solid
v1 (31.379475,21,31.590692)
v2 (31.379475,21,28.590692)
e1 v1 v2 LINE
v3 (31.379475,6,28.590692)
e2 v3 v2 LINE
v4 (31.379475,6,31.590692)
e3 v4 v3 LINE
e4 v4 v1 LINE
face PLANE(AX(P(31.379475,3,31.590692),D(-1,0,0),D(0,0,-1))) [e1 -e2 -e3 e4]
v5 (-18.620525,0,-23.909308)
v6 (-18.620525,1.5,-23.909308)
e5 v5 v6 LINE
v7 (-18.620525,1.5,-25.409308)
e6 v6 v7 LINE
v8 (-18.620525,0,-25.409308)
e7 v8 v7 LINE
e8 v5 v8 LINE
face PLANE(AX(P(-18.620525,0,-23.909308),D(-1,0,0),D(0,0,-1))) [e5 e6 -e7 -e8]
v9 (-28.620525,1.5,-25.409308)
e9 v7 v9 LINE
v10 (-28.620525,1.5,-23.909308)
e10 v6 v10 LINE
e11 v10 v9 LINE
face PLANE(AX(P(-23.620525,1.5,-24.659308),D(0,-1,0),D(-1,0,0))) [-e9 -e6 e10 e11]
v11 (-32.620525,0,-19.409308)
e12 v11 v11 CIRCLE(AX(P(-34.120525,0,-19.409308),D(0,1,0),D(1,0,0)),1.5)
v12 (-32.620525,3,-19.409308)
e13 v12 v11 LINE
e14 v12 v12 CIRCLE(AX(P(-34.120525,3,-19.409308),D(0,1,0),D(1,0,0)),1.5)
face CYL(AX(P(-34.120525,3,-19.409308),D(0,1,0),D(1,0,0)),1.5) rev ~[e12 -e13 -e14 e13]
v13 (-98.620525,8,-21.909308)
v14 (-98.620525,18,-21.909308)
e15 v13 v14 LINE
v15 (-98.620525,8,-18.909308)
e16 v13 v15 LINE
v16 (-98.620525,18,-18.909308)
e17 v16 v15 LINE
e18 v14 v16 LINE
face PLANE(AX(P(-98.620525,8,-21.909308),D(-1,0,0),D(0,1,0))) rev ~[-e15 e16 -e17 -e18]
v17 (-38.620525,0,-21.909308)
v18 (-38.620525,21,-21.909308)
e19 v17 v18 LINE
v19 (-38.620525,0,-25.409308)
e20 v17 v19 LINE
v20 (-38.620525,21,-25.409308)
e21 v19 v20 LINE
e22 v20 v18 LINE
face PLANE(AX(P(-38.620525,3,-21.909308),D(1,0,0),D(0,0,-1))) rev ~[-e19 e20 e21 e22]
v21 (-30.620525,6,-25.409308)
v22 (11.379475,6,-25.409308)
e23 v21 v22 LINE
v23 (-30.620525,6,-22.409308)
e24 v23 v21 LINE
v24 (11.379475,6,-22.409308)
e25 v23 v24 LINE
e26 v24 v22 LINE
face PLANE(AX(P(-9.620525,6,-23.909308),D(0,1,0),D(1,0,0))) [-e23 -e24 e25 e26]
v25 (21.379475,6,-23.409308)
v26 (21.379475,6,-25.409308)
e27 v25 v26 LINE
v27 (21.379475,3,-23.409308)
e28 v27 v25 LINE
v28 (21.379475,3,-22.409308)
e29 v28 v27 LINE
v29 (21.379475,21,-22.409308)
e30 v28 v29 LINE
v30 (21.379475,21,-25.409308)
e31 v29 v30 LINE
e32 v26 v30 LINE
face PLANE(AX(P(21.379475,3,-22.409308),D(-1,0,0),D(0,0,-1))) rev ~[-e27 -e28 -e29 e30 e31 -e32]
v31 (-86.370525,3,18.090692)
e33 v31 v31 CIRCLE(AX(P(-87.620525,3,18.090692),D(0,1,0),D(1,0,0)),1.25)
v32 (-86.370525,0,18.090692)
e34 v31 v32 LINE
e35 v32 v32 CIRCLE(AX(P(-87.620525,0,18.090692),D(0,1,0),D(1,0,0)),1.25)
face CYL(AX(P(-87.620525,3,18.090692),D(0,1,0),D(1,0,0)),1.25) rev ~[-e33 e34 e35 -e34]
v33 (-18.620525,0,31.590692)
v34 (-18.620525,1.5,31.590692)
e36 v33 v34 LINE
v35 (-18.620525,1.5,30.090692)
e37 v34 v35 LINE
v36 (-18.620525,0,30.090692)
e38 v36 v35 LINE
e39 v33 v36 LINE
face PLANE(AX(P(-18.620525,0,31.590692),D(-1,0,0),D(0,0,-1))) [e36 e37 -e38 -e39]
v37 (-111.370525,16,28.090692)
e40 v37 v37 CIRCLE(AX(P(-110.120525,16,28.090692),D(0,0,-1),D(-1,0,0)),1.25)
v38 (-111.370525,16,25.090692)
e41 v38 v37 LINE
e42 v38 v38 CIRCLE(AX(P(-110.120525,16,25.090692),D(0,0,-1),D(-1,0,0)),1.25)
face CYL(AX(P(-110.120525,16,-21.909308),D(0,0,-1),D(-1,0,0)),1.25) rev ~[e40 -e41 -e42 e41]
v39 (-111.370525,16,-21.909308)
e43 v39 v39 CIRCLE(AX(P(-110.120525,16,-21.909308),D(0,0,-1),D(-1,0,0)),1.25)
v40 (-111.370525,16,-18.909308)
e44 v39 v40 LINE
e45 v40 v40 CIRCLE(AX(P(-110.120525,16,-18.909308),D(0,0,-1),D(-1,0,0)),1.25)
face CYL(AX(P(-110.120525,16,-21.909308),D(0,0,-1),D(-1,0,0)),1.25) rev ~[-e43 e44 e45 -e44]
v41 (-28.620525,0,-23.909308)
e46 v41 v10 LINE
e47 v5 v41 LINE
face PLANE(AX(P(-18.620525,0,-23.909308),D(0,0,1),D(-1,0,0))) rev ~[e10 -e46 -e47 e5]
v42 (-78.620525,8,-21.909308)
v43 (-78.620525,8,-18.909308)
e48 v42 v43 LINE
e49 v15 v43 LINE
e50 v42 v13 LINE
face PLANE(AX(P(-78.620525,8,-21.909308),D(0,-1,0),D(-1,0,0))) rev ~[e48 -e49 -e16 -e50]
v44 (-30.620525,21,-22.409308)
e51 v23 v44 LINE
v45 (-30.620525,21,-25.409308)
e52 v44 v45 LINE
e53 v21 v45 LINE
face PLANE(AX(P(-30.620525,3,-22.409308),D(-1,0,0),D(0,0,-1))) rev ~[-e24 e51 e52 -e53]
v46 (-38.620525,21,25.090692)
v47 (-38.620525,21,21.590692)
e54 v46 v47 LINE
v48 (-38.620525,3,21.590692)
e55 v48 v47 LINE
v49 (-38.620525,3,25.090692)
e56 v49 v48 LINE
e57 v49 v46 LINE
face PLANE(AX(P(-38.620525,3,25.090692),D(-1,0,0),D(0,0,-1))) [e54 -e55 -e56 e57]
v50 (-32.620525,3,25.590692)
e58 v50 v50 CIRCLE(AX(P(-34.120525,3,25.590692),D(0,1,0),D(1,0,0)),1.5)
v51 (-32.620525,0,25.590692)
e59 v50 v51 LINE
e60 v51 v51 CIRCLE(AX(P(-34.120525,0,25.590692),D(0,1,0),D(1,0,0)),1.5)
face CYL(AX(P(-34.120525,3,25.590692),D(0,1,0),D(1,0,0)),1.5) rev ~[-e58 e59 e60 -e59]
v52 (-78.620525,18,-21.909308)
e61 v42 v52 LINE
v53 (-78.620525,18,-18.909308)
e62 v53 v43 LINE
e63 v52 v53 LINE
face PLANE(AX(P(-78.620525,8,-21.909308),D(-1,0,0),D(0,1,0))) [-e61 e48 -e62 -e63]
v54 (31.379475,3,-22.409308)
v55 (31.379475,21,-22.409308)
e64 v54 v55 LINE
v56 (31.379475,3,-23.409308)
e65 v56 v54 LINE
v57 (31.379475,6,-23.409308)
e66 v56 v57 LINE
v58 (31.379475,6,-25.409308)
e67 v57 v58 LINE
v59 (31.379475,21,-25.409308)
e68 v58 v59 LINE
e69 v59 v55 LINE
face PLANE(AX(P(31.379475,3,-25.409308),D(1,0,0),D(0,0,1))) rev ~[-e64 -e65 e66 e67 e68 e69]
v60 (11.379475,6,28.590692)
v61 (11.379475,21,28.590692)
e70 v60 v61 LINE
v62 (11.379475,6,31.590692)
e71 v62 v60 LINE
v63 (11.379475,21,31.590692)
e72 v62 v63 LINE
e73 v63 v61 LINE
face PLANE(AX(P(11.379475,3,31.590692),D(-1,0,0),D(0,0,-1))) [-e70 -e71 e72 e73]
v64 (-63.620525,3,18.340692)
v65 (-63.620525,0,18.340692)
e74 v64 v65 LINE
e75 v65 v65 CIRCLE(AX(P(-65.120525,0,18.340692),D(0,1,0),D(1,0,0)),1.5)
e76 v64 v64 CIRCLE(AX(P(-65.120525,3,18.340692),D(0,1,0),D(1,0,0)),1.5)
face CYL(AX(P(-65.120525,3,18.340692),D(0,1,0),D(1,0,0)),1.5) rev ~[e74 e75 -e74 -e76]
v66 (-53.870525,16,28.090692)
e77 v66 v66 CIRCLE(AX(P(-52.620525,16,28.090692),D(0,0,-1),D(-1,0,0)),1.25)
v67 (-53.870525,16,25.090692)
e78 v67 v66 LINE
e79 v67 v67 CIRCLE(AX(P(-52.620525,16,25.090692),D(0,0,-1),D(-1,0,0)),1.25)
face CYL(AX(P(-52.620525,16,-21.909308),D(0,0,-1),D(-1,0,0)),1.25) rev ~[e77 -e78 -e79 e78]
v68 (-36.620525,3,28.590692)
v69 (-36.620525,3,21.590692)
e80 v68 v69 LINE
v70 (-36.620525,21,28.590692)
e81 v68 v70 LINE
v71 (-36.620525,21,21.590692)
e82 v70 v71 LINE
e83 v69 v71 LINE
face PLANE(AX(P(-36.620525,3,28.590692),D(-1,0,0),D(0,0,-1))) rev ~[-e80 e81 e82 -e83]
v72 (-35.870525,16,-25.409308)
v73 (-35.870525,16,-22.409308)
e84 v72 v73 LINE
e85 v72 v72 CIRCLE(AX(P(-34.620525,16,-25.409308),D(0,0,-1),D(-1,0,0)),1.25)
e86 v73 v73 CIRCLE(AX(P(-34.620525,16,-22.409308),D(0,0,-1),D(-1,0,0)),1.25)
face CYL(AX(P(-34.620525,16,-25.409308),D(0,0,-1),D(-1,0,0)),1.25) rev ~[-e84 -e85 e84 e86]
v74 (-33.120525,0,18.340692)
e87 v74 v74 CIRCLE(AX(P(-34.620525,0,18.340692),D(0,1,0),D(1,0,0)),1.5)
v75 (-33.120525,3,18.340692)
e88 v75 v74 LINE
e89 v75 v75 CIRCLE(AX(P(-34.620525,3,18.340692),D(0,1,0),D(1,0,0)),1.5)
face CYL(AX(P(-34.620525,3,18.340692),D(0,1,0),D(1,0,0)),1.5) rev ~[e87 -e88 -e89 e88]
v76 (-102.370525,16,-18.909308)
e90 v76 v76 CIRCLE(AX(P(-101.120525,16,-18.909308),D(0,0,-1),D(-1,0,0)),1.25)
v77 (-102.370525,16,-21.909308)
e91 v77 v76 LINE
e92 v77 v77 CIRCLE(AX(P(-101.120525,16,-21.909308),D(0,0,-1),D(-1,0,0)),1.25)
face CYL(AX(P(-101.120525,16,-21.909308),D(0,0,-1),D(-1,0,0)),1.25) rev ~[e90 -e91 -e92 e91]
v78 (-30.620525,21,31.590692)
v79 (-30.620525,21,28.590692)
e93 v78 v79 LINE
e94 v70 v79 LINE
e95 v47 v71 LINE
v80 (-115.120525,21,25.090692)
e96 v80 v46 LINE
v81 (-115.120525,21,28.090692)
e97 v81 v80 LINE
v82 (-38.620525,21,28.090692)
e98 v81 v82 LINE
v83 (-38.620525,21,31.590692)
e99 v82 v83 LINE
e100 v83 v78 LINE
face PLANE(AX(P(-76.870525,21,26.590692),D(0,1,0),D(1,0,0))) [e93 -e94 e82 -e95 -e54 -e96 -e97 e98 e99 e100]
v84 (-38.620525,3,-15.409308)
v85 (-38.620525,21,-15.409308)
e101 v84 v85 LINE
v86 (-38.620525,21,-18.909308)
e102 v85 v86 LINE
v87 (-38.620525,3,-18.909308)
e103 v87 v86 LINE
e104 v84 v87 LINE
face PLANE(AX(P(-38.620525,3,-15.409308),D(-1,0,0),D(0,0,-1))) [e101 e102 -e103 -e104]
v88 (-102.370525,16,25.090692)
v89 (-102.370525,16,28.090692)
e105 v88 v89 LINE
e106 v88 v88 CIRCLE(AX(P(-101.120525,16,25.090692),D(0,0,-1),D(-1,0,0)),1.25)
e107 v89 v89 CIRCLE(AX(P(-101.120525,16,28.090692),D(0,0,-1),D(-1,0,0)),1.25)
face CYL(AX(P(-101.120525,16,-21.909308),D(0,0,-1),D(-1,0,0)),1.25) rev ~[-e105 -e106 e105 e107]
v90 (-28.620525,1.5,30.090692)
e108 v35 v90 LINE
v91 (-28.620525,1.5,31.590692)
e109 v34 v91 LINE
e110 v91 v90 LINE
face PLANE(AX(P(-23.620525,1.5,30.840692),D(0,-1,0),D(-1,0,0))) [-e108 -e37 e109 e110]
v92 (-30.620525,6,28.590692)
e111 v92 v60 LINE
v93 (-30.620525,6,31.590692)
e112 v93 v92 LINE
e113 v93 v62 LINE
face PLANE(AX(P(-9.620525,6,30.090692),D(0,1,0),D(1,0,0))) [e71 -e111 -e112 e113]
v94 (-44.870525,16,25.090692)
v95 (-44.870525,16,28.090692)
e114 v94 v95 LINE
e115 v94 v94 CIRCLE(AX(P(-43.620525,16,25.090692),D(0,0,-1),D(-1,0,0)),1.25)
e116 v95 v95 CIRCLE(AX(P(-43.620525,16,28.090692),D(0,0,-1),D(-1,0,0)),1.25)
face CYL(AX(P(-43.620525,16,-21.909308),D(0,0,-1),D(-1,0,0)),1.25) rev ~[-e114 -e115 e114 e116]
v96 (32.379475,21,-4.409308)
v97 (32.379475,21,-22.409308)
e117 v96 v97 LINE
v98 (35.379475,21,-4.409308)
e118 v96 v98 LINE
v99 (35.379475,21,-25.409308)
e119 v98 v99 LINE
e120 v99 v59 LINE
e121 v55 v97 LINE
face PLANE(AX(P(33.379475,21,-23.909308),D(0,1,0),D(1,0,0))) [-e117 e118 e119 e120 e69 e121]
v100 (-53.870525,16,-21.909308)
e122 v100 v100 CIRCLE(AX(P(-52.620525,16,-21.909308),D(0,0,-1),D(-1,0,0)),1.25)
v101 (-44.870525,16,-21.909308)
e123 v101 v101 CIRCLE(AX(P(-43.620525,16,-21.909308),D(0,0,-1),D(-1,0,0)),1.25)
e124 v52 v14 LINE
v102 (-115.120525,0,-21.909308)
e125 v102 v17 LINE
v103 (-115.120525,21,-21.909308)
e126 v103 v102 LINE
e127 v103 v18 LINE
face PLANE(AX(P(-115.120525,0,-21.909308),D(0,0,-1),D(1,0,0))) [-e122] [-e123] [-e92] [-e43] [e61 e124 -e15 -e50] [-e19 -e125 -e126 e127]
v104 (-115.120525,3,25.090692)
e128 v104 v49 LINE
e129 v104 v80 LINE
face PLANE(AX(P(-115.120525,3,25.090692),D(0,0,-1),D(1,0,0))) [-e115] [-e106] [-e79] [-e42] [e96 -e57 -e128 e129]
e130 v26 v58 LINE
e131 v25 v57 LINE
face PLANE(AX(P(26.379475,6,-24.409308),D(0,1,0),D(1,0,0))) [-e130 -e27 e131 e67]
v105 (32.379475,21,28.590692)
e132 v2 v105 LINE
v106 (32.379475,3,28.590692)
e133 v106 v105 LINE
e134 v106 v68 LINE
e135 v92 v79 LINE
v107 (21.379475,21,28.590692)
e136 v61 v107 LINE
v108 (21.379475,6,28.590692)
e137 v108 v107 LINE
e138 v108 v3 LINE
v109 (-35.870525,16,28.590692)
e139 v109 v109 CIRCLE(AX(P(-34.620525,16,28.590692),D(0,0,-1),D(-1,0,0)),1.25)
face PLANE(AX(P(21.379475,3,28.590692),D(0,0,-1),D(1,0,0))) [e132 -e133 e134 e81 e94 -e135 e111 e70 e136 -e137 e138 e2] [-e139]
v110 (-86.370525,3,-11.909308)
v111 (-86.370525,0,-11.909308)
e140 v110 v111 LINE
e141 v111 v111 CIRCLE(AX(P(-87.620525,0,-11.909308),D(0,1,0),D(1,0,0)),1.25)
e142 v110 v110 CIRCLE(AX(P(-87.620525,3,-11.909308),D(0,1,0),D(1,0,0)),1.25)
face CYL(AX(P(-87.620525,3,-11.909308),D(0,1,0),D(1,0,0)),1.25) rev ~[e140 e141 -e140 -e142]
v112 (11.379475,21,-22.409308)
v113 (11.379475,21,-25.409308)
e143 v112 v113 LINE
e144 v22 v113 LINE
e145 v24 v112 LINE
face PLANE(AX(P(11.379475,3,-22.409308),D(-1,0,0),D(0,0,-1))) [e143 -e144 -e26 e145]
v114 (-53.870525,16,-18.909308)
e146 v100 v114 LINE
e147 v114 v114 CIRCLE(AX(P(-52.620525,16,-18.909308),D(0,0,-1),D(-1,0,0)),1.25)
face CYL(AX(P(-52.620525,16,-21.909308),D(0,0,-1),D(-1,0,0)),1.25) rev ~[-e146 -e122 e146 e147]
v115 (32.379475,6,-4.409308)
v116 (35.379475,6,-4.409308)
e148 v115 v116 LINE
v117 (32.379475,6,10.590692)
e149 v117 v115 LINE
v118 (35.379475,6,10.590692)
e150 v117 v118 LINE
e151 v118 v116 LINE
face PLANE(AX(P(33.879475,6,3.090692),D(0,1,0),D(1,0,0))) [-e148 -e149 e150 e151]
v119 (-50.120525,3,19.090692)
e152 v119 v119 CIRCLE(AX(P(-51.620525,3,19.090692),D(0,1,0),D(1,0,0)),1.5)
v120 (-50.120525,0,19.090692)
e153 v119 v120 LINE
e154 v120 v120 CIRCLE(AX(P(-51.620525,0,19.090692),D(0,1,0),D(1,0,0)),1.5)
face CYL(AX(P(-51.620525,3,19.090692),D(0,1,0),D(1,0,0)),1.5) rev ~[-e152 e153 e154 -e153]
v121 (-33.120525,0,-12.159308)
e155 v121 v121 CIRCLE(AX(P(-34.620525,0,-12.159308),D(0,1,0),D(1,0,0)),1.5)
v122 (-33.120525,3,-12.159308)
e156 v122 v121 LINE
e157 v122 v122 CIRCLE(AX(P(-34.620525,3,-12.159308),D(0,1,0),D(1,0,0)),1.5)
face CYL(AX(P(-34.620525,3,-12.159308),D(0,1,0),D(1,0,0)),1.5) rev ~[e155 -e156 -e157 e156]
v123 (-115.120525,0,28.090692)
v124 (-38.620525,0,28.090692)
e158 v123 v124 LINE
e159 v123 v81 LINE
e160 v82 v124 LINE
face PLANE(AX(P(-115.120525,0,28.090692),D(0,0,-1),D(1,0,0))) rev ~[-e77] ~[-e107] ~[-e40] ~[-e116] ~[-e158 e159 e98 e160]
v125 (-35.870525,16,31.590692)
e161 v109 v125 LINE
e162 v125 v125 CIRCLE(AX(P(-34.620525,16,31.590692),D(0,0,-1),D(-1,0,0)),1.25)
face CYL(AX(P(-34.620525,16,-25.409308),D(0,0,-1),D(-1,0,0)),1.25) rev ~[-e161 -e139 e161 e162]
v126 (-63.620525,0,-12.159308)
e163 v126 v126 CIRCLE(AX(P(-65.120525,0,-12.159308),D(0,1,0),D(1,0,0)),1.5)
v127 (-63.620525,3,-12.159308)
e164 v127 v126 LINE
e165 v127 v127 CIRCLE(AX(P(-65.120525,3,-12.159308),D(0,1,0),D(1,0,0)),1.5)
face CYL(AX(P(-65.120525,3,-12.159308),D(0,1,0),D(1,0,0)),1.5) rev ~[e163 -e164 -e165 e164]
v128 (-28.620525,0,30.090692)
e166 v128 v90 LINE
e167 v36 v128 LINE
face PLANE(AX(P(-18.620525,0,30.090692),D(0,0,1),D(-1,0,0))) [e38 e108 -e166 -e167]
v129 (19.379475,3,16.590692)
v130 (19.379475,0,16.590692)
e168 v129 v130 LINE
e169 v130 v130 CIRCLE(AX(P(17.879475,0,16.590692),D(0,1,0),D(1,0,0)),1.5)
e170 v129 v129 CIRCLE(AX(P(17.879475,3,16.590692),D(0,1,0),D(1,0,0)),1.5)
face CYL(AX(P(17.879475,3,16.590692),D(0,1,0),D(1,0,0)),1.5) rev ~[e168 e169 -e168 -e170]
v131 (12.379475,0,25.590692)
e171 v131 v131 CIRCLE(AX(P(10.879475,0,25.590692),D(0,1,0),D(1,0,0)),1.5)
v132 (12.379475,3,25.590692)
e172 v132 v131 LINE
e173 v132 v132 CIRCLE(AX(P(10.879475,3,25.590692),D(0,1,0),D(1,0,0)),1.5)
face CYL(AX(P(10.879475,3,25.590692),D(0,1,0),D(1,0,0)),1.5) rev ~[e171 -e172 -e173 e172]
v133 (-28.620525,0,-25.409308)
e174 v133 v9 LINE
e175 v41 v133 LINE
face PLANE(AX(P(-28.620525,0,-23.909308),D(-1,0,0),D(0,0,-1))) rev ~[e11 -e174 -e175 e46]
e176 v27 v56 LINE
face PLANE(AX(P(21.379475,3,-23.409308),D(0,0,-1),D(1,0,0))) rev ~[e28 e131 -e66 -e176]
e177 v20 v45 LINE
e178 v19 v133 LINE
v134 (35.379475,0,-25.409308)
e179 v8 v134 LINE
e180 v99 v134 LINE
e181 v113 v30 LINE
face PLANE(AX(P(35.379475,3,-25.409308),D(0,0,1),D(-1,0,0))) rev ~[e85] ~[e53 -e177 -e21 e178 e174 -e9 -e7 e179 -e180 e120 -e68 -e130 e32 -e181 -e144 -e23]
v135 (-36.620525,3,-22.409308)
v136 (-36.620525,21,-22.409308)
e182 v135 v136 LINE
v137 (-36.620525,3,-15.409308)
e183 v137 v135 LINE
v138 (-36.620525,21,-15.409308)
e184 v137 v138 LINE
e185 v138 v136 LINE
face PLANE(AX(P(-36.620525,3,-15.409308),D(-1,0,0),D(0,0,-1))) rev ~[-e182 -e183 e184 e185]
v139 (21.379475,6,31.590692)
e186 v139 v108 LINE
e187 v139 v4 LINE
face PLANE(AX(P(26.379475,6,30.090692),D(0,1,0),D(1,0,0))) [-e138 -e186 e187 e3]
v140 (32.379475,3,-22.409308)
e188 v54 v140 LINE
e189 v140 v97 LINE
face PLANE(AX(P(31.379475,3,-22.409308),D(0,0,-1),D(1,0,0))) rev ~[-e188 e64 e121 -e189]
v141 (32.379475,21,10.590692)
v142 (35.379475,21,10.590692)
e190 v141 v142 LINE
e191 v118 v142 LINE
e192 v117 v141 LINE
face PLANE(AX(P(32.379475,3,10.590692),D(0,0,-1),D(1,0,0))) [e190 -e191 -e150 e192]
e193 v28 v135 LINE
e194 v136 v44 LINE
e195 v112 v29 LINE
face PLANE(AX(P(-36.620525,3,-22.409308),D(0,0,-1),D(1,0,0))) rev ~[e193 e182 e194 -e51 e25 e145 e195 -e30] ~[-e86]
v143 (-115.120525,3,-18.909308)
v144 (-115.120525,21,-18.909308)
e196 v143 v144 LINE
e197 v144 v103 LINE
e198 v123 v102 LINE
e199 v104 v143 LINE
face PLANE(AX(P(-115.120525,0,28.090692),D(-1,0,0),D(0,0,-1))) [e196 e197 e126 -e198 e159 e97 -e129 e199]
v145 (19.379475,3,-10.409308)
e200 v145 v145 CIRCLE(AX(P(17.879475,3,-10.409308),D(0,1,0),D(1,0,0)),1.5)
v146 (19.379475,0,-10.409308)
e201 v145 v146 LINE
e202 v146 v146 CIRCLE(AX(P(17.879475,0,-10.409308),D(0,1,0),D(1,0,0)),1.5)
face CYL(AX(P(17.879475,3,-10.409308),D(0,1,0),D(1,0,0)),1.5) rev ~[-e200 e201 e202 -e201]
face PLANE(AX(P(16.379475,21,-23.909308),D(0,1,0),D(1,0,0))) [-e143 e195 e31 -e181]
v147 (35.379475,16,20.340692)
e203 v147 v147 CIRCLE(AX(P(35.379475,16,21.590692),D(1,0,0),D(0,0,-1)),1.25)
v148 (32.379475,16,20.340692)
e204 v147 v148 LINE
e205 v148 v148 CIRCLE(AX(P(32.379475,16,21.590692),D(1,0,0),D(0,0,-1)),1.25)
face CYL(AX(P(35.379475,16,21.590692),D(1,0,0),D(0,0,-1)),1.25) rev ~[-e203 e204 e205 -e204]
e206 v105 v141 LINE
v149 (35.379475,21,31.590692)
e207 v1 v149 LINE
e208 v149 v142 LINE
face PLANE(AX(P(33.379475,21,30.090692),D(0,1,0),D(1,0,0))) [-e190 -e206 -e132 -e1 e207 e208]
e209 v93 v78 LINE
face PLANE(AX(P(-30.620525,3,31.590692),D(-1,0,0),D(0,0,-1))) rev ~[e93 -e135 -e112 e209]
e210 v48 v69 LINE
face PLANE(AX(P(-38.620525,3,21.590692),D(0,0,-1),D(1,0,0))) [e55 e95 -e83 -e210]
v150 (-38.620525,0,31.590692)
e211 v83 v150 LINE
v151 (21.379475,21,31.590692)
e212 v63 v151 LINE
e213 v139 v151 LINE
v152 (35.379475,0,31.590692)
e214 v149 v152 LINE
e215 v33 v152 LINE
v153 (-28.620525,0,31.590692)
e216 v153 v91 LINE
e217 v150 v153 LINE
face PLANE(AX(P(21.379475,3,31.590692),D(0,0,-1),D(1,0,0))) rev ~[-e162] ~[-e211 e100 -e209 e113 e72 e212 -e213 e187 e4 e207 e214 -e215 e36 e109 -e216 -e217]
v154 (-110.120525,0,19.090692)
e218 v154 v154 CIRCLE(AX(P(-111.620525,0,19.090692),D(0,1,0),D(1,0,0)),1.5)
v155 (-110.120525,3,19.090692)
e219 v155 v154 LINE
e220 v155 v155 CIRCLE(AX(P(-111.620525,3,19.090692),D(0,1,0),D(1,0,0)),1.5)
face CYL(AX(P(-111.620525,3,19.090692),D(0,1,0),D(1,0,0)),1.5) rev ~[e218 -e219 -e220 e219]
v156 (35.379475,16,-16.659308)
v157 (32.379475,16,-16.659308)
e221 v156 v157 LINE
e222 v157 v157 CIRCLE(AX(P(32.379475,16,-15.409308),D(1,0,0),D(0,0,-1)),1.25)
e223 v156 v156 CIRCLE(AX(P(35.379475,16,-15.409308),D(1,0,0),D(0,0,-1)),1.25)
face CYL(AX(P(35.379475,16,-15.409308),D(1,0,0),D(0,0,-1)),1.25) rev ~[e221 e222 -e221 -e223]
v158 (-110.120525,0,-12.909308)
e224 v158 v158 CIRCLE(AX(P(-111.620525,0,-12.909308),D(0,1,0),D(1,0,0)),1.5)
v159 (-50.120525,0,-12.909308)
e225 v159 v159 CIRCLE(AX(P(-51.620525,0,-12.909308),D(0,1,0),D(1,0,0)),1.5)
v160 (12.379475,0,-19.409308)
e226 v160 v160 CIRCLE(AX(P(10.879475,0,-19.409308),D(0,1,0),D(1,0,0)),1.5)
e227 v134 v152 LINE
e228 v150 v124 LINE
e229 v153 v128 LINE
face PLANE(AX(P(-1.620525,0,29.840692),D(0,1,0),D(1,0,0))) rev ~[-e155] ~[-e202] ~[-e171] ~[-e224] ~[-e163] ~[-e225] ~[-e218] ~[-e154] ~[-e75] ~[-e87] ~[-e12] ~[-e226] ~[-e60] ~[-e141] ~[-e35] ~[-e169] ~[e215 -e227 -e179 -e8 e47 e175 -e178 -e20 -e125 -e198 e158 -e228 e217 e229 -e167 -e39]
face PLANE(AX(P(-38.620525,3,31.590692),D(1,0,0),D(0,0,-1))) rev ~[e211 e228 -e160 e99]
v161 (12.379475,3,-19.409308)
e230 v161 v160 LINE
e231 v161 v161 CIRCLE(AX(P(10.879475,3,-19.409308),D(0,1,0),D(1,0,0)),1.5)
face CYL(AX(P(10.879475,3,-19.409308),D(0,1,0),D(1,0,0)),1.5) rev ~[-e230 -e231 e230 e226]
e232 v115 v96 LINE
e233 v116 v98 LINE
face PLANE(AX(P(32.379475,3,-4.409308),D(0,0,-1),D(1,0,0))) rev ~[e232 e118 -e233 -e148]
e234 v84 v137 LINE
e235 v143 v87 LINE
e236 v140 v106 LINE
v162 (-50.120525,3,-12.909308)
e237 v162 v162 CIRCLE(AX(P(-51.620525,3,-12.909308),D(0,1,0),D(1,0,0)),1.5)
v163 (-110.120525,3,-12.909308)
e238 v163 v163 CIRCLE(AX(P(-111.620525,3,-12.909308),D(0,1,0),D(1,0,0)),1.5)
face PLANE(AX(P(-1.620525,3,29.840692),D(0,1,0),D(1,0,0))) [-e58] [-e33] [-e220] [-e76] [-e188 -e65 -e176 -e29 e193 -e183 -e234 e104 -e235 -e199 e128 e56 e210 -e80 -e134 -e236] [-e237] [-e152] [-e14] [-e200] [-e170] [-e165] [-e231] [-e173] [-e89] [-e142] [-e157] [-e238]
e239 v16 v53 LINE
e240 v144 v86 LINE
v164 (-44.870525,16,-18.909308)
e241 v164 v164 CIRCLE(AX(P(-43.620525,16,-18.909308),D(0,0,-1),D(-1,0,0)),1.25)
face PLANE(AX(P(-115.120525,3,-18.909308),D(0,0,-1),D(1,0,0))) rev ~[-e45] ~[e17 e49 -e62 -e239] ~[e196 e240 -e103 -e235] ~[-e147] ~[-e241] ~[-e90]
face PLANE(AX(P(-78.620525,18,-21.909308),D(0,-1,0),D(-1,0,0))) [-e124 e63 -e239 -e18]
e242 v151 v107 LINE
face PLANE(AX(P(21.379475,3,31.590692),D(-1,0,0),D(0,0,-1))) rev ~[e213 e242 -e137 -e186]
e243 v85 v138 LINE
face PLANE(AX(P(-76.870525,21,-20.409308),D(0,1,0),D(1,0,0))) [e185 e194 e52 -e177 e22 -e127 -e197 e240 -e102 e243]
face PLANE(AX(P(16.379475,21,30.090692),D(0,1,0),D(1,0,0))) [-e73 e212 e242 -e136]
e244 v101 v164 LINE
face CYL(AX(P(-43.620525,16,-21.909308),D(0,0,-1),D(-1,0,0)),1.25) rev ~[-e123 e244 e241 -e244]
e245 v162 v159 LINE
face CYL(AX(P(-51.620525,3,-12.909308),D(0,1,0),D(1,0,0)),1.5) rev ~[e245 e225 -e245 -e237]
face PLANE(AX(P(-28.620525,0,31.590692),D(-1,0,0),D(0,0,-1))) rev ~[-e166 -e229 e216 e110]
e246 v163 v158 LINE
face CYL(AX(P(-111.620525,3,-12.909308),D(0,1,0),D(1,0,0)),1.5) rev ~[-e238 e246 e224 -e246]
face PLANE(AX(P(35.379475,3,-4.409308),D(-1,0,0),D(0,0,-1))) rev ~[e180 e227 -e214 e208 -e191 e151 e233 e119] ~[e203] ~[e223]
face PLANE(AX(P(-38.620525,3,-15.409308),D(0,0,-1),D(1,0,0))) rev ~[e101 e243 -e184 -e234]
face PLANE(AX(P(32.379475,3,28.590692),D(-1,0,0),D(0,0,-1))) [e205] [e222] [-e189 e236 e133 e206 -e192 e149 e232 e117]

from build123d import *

# Parameters (mm, degrees)
SKETCH1_W           = 150.5
SKETCH1_H           = 50
BOSS_EXTRUDE1_DEPTH = 3
SKETCH2_R           = 1.5
SKETCH2_R_2         = 1.25
CUT_EXTRUDE1_DEPTH  = 4
SKETCH4_W           = 74
SKETCH4_H           = 3.5
BOSS_EXTRUDE2_DEPTH = 3
SKETCH5_R           = 1.5
CUT_EXTRUDE3_DEPTH  = 4
SKETCH6_W           = 76.5
SKETCH6_H           = 3
SKETCH6_W_2         = 8
SKETCH6_W_3         = 2
SKETCH6_H_2         = 7
SKETCH6_W_4         = 4
SKETCH6_W_5         = 3
SKETCH6_H_3         = 18
SKETCH6_W_6         = 10
BOSS_EXTRUDE3_DEPTH = 18
SKETCH8_W           = 10
SKETCH8_H           = 3
SKETCH8_H_2         = 2
SKETCH8_W_2         = 42
SKETCH8_W_3         = 3
SKETCH8_H_3         = 15
BOSS_EXTRUDE4_DEPTH = 3
CUT_EXTRUDE4_REACH  = 55.5
SKETCH9_W           = 20
SKETCH9_H           = 10
CUT_EXTRUDE5_REACH  = 152.5
SKETCH10_R          = 1.25
SKETCH11_R          = 1.25
CUT_EXTRUDE6_DEPTH  = 54.5
SKETCH12_R          = 1.25
CUT_EXTRUDE7_DEPTH  = 58
SKETCH13_W          = 10
SKETCH13_H          = 1.5
CUT_EXTRUDE8_DEPTH  = 1.5


with BuildPart() as part:
    # Sketch1 → Boss-Extrude1 (new body)
    with BuildSketch(Plane(origin=(0, 0, 0), x_dir=(1, 0, 0), z_dir=(0, 1, 0))):
        with Locations((-39.87052506, -3.090692124)):
            Rectangle(SKETCH1_W, SKETCH1_H)
    extrude(amount=BOSS_EXTRUDE1_DEPTH)

    # Sketch2 → Cut-Extrude1 (cut, through all)
    with BuildSketch(Plane(origin=(0, 3, 0), x_dir=(1, 0, 0), z_dir=(0, 1, 0))):
        with Locations((-65.12052506, 12.159307876)):
            Circle(SKETCH2_R)
        with Locations((-65.12052506, -18.340692124)):
            Circle(SKETCH2_R)
        with Locations((-34.62052506, -18.340692124)):
            Circle(SKETCH2_R)
        with Locations((-34.62052506, 12.159307876)):
            Circle(SKETCH2_R)
        with Locations((17.87947494, -16.590692124)):
            Circle(SKETCH2_R)
        with Locations((17.87947494, 10.409307876)):
            Circle(SKETCH2_R)
        with Locations((-111.62052506, -19.090692124)):
            Circle(SKETCH2_R)
        with Locations((-111.62052506, 12.909307876)):
            Circle(SKETCH2_R)
        with Locations((-87.62052506, 11.909307876)):
            Circle(SKETCH2_R_2)
        with Locations((-87.62052506, -18.090692124)):
            Circle(SKETCH2_R_2)
        with Locations((-51.62052506, 12.909307876)):
            Circle(SKETCH2_R)
        with Locations((-51.62052506, -19.090692124)):
            Circle(SKETCH2_R)
    extrude(amount=-CUT_EXTRUDE1_DEPTH, mode=Mode.SUBTRACT)

    # Sketch4 → Boss-Extrude2 (add)
    with BuildSketch(Plane(origin=(0, 3, 0), x_dir=(1, 0, 0), z_dir=(0, 1, 0))):
        with Locations((-1.62052506, -29.840692124)):
            Rectangle(SKETCH4_W, SKETCH4_H)
        with Locations((-1.62052506, 23.659307876)):
            Rectangle(SKETCH4_W, SKETCH4_H)
    extrude(amount=-BOSS_EXTRUDE2_DEPTH)

    # Sketch5 → Cut-Extrude3 (cut, through all)
    with BuildSketch(Plane(origin=(0, 3, 0), x_dir=(1, 0, 0), z_dir=(0, 1, 0))):
        with Locations((-34.12052506, 19.409307876)):
            Circle(SKETCH5_R)
        with Locations((-34.12052506, -25.590692124)):
            Circle(SKETCH5_R)
        with Locations((10.87947494, 19.409307876)):
            Circle(SKETCH5_R)
        with Locations((10.87947494, -25.590692124)):
            Circle(SKETCH5_R)
    extrude(amount=-CUT_EXTRUDE3_DEPTH, mode=Mode.SUBTRACT)

    # Sketch6 → Boss-Extrude3 (add)
    with BuildSketch(Plane(origin=(0, 3, 0), x_dir=(1, 0, 0), z_dir=(0, 1, 0))):
        Polygon((35.37947494, 25.409307876), (31.37947494, 25.409307876), (31.37947494, 22.409307876), (32.37947494, 22.409307876), (35.37947494, 22.409307876), align=None)
        with Locations((-76.87052506, -26.590692124)):
            Rectangle(SKETCH6_W, SKETCH6_H)
        with Locations((-76.87052506, 20.409307876)):
            Rectangle(SKETCH6_W, SKETCH6_H)
        with Locations((-34.62052506, 23.909307876)):
            Rectangle(SKETCH6_W_2, SKETCH6_H)
        with Locations((-34.62052506, -30.090692124)):
            Rectangle(SKETCH6_W_2, SKETCH6_H)
        with Locations((-37.62052506, -25.090692124)):
            Rectangle(SKETCH6_W_3, SKETCH6_H_2)
        with Locations((-37.62052506, 18.909307876)):
            Rectangle(SKETCH6_W_3, SKETCH6_H_2)
        with Locations((33.37947494, -30.090692124)):
            Rectangle(SKETCH6_W_4, SKETCH6_H)
        with Locations((33.87947494, -19.590692124)):
            Rectangle(SKETCH6_W_5, SKETCH6_H_3)
        with Locations((33.87947494, 13.409307876)):
            Rectangle(SKETCH6_W_5, SKETCH6_H_3)
        with Locations((16.37947494, -30.090692124)):
            Rectangle(SKETCH6_W_6, SKETCH6_H)
        with Locations((16.37947494, 23.909307876)):
            Rectangle(SKETCH6_W_6, SKETCH6_H)
    extrude(amount=BOSS_EXTRUDE3_DEPTH)

    # Sketch8 → Boss-Extrude4 (add)
    with BuildSketch(Plane(origin=(0, 3, 0), x_dir=(1, 0, 0), z_dir=(0, 1, 0))):
        with Locations((26.37947494, -30.090692124)):
            Rectangle(SKETCH8_W, SKETCH8_H)
        with Locations((26.37947494, 24.409307876)):
            Rectangle(SKETCH8_W, SKETCH8_H_2)
        with Locations((-9.62052506, 23.909307876)):
            Rectangle(SKETCH8_W_2, SKETCH8_H)
        with Locations((-9.62052506, -30.090692124)):
            Rectangle(SKETCH8_W_2, SKETCH8_H)
        with Locations((33.87947494, -3.090692124)):
            Rectangle(SKETCH8_W_3, SKETCH8_H_3)
    extrude(amount=BOSS_EXTRUDE4_DEPTH)

    # Sketch9 → Cut-Extrude4 (cut, up to next)
    with BuildSketch(Plane(origin=(0, 0, -21.909307876), x_dir=(-1, 0, 0), z_dir=(0, 0, -1)), mode=Mode.PRIVATE) as cut_extrude4_sk1:
        with Locations((88.62052506, 13)):
            Rectangle(SKETCH9_W, SKETCH9_H)
    cut_extrude4_tool1 = extrude(cut_extrude4_sk1.sketch, amount=-CUT_EXTRUDE4_REACH, mode=Mode.PRIVATE) & part.part
    add(cut_extrude4_tool1.solids().sort_by_distance((-88.620525, 13, -21.909308))[0], mode=Mode.SUBTRACT)

    # Sketch10 → Cut-Extrude5 (cut, up to next)
    with BuildSketch(Plane(origin=(35.37947494, 0, 0), x_dir=(0, 0, -1), z_dir=(1, 0, 0)), mode=Mode.PRIVATE) as cut_extrude5_sk1:
        with Locations((-21.590692124, 16)):
            Circle(SKETCH10_R)
    cut_extrude5_tool1 = extrude(cut_extrude5_sk1.sketch, amount=-CUT_EXTRUDE5_REACH, mode=Mode.PRIVATE) & part.part
    add(cut_extrude5_tool1.solids().sort_by_distance((35.379475, 16, 21.590692))[0], mode=Mode.SUBTRACT)
    # Sketch10 → Cut-Extrude5 (cut, up to next)
    with BuildSketch(Plane(origin=(35.37947494, 0, 0), x_dir=(0, 0, -1), z_dir=(1, 0, 0)), mode=Mode.PRIVATE) as cut_extrude5_sk2:
        with Locations((15.409307876, 16)):
            Circle(SKETCH10_R)
    cut_extrude5_tool2 = extrude(cut_extrude5_sk2.sketch, amount=-CUT_EXTRUDE5_REACH, mode=Mode.PRIVATE) & part.part
    add(cut_extrude5_tool2.solids().sort_by_distance((35.379475, 16, -15.409308))[0], mode=Mode.SUBTRACT)

    # Sketch11 → Cut-Extrude6 (cut, through all)
    with BuildSketch(Plane(origin=(0, 0, -21.909307876), x_dir=(-1, 0, 0), z_dir=(0, 0, -1))):
        with Locations((43.62052506, 16)):
            Circle(SKETCH11_R)
        with Locations((110.12052506, 16)):
            Circle(SKETCH11_R)
        with Locations((52.62052506, 16)):
            Circle(SKETCH11_R)
        with Locations((101.12052506, 16)):
            Circle(SKETCH11_R)
    extrude(amount=-CUT_EXTRUDE6_DEPTH, mode=Mode.SUBTRACT)

    # Sketch12 → Cut-Extrude7 (cut, through all)
    with BuildSketch(Plane(origin=(0, 0, -25.409307876), x_dir=(-1, 0, 0), z_dir=(0, 0, -1))):
        with Locations((34.62052506, 16)):
            Circle(SKETCH12_R)
    extrude(amount=-CUT_EXTRUDE7_DEPTH, mode=Mode.SUBTRACT)

    # Sketch13 → Cut-Extrude8 (cut)
    with BuildSketch(Plane(origin=(0, 0, 0), x_dir=(-1, 0, 0), z_dir=(0, -1, 0))):
        with Locations((23.62052506, -30.840692124)):
            Rectangle(SKETCH13_W, SKETCH13_H)
        with Locations((23.62052506, 24.659307876)):
            Rectangle(SKETCH13_W, SKETCH13_H)
    extrude(amount=-CUT_EXTRUDE8_DEPTH, mode=Mode.SUBTRACT)


solid = part.part
